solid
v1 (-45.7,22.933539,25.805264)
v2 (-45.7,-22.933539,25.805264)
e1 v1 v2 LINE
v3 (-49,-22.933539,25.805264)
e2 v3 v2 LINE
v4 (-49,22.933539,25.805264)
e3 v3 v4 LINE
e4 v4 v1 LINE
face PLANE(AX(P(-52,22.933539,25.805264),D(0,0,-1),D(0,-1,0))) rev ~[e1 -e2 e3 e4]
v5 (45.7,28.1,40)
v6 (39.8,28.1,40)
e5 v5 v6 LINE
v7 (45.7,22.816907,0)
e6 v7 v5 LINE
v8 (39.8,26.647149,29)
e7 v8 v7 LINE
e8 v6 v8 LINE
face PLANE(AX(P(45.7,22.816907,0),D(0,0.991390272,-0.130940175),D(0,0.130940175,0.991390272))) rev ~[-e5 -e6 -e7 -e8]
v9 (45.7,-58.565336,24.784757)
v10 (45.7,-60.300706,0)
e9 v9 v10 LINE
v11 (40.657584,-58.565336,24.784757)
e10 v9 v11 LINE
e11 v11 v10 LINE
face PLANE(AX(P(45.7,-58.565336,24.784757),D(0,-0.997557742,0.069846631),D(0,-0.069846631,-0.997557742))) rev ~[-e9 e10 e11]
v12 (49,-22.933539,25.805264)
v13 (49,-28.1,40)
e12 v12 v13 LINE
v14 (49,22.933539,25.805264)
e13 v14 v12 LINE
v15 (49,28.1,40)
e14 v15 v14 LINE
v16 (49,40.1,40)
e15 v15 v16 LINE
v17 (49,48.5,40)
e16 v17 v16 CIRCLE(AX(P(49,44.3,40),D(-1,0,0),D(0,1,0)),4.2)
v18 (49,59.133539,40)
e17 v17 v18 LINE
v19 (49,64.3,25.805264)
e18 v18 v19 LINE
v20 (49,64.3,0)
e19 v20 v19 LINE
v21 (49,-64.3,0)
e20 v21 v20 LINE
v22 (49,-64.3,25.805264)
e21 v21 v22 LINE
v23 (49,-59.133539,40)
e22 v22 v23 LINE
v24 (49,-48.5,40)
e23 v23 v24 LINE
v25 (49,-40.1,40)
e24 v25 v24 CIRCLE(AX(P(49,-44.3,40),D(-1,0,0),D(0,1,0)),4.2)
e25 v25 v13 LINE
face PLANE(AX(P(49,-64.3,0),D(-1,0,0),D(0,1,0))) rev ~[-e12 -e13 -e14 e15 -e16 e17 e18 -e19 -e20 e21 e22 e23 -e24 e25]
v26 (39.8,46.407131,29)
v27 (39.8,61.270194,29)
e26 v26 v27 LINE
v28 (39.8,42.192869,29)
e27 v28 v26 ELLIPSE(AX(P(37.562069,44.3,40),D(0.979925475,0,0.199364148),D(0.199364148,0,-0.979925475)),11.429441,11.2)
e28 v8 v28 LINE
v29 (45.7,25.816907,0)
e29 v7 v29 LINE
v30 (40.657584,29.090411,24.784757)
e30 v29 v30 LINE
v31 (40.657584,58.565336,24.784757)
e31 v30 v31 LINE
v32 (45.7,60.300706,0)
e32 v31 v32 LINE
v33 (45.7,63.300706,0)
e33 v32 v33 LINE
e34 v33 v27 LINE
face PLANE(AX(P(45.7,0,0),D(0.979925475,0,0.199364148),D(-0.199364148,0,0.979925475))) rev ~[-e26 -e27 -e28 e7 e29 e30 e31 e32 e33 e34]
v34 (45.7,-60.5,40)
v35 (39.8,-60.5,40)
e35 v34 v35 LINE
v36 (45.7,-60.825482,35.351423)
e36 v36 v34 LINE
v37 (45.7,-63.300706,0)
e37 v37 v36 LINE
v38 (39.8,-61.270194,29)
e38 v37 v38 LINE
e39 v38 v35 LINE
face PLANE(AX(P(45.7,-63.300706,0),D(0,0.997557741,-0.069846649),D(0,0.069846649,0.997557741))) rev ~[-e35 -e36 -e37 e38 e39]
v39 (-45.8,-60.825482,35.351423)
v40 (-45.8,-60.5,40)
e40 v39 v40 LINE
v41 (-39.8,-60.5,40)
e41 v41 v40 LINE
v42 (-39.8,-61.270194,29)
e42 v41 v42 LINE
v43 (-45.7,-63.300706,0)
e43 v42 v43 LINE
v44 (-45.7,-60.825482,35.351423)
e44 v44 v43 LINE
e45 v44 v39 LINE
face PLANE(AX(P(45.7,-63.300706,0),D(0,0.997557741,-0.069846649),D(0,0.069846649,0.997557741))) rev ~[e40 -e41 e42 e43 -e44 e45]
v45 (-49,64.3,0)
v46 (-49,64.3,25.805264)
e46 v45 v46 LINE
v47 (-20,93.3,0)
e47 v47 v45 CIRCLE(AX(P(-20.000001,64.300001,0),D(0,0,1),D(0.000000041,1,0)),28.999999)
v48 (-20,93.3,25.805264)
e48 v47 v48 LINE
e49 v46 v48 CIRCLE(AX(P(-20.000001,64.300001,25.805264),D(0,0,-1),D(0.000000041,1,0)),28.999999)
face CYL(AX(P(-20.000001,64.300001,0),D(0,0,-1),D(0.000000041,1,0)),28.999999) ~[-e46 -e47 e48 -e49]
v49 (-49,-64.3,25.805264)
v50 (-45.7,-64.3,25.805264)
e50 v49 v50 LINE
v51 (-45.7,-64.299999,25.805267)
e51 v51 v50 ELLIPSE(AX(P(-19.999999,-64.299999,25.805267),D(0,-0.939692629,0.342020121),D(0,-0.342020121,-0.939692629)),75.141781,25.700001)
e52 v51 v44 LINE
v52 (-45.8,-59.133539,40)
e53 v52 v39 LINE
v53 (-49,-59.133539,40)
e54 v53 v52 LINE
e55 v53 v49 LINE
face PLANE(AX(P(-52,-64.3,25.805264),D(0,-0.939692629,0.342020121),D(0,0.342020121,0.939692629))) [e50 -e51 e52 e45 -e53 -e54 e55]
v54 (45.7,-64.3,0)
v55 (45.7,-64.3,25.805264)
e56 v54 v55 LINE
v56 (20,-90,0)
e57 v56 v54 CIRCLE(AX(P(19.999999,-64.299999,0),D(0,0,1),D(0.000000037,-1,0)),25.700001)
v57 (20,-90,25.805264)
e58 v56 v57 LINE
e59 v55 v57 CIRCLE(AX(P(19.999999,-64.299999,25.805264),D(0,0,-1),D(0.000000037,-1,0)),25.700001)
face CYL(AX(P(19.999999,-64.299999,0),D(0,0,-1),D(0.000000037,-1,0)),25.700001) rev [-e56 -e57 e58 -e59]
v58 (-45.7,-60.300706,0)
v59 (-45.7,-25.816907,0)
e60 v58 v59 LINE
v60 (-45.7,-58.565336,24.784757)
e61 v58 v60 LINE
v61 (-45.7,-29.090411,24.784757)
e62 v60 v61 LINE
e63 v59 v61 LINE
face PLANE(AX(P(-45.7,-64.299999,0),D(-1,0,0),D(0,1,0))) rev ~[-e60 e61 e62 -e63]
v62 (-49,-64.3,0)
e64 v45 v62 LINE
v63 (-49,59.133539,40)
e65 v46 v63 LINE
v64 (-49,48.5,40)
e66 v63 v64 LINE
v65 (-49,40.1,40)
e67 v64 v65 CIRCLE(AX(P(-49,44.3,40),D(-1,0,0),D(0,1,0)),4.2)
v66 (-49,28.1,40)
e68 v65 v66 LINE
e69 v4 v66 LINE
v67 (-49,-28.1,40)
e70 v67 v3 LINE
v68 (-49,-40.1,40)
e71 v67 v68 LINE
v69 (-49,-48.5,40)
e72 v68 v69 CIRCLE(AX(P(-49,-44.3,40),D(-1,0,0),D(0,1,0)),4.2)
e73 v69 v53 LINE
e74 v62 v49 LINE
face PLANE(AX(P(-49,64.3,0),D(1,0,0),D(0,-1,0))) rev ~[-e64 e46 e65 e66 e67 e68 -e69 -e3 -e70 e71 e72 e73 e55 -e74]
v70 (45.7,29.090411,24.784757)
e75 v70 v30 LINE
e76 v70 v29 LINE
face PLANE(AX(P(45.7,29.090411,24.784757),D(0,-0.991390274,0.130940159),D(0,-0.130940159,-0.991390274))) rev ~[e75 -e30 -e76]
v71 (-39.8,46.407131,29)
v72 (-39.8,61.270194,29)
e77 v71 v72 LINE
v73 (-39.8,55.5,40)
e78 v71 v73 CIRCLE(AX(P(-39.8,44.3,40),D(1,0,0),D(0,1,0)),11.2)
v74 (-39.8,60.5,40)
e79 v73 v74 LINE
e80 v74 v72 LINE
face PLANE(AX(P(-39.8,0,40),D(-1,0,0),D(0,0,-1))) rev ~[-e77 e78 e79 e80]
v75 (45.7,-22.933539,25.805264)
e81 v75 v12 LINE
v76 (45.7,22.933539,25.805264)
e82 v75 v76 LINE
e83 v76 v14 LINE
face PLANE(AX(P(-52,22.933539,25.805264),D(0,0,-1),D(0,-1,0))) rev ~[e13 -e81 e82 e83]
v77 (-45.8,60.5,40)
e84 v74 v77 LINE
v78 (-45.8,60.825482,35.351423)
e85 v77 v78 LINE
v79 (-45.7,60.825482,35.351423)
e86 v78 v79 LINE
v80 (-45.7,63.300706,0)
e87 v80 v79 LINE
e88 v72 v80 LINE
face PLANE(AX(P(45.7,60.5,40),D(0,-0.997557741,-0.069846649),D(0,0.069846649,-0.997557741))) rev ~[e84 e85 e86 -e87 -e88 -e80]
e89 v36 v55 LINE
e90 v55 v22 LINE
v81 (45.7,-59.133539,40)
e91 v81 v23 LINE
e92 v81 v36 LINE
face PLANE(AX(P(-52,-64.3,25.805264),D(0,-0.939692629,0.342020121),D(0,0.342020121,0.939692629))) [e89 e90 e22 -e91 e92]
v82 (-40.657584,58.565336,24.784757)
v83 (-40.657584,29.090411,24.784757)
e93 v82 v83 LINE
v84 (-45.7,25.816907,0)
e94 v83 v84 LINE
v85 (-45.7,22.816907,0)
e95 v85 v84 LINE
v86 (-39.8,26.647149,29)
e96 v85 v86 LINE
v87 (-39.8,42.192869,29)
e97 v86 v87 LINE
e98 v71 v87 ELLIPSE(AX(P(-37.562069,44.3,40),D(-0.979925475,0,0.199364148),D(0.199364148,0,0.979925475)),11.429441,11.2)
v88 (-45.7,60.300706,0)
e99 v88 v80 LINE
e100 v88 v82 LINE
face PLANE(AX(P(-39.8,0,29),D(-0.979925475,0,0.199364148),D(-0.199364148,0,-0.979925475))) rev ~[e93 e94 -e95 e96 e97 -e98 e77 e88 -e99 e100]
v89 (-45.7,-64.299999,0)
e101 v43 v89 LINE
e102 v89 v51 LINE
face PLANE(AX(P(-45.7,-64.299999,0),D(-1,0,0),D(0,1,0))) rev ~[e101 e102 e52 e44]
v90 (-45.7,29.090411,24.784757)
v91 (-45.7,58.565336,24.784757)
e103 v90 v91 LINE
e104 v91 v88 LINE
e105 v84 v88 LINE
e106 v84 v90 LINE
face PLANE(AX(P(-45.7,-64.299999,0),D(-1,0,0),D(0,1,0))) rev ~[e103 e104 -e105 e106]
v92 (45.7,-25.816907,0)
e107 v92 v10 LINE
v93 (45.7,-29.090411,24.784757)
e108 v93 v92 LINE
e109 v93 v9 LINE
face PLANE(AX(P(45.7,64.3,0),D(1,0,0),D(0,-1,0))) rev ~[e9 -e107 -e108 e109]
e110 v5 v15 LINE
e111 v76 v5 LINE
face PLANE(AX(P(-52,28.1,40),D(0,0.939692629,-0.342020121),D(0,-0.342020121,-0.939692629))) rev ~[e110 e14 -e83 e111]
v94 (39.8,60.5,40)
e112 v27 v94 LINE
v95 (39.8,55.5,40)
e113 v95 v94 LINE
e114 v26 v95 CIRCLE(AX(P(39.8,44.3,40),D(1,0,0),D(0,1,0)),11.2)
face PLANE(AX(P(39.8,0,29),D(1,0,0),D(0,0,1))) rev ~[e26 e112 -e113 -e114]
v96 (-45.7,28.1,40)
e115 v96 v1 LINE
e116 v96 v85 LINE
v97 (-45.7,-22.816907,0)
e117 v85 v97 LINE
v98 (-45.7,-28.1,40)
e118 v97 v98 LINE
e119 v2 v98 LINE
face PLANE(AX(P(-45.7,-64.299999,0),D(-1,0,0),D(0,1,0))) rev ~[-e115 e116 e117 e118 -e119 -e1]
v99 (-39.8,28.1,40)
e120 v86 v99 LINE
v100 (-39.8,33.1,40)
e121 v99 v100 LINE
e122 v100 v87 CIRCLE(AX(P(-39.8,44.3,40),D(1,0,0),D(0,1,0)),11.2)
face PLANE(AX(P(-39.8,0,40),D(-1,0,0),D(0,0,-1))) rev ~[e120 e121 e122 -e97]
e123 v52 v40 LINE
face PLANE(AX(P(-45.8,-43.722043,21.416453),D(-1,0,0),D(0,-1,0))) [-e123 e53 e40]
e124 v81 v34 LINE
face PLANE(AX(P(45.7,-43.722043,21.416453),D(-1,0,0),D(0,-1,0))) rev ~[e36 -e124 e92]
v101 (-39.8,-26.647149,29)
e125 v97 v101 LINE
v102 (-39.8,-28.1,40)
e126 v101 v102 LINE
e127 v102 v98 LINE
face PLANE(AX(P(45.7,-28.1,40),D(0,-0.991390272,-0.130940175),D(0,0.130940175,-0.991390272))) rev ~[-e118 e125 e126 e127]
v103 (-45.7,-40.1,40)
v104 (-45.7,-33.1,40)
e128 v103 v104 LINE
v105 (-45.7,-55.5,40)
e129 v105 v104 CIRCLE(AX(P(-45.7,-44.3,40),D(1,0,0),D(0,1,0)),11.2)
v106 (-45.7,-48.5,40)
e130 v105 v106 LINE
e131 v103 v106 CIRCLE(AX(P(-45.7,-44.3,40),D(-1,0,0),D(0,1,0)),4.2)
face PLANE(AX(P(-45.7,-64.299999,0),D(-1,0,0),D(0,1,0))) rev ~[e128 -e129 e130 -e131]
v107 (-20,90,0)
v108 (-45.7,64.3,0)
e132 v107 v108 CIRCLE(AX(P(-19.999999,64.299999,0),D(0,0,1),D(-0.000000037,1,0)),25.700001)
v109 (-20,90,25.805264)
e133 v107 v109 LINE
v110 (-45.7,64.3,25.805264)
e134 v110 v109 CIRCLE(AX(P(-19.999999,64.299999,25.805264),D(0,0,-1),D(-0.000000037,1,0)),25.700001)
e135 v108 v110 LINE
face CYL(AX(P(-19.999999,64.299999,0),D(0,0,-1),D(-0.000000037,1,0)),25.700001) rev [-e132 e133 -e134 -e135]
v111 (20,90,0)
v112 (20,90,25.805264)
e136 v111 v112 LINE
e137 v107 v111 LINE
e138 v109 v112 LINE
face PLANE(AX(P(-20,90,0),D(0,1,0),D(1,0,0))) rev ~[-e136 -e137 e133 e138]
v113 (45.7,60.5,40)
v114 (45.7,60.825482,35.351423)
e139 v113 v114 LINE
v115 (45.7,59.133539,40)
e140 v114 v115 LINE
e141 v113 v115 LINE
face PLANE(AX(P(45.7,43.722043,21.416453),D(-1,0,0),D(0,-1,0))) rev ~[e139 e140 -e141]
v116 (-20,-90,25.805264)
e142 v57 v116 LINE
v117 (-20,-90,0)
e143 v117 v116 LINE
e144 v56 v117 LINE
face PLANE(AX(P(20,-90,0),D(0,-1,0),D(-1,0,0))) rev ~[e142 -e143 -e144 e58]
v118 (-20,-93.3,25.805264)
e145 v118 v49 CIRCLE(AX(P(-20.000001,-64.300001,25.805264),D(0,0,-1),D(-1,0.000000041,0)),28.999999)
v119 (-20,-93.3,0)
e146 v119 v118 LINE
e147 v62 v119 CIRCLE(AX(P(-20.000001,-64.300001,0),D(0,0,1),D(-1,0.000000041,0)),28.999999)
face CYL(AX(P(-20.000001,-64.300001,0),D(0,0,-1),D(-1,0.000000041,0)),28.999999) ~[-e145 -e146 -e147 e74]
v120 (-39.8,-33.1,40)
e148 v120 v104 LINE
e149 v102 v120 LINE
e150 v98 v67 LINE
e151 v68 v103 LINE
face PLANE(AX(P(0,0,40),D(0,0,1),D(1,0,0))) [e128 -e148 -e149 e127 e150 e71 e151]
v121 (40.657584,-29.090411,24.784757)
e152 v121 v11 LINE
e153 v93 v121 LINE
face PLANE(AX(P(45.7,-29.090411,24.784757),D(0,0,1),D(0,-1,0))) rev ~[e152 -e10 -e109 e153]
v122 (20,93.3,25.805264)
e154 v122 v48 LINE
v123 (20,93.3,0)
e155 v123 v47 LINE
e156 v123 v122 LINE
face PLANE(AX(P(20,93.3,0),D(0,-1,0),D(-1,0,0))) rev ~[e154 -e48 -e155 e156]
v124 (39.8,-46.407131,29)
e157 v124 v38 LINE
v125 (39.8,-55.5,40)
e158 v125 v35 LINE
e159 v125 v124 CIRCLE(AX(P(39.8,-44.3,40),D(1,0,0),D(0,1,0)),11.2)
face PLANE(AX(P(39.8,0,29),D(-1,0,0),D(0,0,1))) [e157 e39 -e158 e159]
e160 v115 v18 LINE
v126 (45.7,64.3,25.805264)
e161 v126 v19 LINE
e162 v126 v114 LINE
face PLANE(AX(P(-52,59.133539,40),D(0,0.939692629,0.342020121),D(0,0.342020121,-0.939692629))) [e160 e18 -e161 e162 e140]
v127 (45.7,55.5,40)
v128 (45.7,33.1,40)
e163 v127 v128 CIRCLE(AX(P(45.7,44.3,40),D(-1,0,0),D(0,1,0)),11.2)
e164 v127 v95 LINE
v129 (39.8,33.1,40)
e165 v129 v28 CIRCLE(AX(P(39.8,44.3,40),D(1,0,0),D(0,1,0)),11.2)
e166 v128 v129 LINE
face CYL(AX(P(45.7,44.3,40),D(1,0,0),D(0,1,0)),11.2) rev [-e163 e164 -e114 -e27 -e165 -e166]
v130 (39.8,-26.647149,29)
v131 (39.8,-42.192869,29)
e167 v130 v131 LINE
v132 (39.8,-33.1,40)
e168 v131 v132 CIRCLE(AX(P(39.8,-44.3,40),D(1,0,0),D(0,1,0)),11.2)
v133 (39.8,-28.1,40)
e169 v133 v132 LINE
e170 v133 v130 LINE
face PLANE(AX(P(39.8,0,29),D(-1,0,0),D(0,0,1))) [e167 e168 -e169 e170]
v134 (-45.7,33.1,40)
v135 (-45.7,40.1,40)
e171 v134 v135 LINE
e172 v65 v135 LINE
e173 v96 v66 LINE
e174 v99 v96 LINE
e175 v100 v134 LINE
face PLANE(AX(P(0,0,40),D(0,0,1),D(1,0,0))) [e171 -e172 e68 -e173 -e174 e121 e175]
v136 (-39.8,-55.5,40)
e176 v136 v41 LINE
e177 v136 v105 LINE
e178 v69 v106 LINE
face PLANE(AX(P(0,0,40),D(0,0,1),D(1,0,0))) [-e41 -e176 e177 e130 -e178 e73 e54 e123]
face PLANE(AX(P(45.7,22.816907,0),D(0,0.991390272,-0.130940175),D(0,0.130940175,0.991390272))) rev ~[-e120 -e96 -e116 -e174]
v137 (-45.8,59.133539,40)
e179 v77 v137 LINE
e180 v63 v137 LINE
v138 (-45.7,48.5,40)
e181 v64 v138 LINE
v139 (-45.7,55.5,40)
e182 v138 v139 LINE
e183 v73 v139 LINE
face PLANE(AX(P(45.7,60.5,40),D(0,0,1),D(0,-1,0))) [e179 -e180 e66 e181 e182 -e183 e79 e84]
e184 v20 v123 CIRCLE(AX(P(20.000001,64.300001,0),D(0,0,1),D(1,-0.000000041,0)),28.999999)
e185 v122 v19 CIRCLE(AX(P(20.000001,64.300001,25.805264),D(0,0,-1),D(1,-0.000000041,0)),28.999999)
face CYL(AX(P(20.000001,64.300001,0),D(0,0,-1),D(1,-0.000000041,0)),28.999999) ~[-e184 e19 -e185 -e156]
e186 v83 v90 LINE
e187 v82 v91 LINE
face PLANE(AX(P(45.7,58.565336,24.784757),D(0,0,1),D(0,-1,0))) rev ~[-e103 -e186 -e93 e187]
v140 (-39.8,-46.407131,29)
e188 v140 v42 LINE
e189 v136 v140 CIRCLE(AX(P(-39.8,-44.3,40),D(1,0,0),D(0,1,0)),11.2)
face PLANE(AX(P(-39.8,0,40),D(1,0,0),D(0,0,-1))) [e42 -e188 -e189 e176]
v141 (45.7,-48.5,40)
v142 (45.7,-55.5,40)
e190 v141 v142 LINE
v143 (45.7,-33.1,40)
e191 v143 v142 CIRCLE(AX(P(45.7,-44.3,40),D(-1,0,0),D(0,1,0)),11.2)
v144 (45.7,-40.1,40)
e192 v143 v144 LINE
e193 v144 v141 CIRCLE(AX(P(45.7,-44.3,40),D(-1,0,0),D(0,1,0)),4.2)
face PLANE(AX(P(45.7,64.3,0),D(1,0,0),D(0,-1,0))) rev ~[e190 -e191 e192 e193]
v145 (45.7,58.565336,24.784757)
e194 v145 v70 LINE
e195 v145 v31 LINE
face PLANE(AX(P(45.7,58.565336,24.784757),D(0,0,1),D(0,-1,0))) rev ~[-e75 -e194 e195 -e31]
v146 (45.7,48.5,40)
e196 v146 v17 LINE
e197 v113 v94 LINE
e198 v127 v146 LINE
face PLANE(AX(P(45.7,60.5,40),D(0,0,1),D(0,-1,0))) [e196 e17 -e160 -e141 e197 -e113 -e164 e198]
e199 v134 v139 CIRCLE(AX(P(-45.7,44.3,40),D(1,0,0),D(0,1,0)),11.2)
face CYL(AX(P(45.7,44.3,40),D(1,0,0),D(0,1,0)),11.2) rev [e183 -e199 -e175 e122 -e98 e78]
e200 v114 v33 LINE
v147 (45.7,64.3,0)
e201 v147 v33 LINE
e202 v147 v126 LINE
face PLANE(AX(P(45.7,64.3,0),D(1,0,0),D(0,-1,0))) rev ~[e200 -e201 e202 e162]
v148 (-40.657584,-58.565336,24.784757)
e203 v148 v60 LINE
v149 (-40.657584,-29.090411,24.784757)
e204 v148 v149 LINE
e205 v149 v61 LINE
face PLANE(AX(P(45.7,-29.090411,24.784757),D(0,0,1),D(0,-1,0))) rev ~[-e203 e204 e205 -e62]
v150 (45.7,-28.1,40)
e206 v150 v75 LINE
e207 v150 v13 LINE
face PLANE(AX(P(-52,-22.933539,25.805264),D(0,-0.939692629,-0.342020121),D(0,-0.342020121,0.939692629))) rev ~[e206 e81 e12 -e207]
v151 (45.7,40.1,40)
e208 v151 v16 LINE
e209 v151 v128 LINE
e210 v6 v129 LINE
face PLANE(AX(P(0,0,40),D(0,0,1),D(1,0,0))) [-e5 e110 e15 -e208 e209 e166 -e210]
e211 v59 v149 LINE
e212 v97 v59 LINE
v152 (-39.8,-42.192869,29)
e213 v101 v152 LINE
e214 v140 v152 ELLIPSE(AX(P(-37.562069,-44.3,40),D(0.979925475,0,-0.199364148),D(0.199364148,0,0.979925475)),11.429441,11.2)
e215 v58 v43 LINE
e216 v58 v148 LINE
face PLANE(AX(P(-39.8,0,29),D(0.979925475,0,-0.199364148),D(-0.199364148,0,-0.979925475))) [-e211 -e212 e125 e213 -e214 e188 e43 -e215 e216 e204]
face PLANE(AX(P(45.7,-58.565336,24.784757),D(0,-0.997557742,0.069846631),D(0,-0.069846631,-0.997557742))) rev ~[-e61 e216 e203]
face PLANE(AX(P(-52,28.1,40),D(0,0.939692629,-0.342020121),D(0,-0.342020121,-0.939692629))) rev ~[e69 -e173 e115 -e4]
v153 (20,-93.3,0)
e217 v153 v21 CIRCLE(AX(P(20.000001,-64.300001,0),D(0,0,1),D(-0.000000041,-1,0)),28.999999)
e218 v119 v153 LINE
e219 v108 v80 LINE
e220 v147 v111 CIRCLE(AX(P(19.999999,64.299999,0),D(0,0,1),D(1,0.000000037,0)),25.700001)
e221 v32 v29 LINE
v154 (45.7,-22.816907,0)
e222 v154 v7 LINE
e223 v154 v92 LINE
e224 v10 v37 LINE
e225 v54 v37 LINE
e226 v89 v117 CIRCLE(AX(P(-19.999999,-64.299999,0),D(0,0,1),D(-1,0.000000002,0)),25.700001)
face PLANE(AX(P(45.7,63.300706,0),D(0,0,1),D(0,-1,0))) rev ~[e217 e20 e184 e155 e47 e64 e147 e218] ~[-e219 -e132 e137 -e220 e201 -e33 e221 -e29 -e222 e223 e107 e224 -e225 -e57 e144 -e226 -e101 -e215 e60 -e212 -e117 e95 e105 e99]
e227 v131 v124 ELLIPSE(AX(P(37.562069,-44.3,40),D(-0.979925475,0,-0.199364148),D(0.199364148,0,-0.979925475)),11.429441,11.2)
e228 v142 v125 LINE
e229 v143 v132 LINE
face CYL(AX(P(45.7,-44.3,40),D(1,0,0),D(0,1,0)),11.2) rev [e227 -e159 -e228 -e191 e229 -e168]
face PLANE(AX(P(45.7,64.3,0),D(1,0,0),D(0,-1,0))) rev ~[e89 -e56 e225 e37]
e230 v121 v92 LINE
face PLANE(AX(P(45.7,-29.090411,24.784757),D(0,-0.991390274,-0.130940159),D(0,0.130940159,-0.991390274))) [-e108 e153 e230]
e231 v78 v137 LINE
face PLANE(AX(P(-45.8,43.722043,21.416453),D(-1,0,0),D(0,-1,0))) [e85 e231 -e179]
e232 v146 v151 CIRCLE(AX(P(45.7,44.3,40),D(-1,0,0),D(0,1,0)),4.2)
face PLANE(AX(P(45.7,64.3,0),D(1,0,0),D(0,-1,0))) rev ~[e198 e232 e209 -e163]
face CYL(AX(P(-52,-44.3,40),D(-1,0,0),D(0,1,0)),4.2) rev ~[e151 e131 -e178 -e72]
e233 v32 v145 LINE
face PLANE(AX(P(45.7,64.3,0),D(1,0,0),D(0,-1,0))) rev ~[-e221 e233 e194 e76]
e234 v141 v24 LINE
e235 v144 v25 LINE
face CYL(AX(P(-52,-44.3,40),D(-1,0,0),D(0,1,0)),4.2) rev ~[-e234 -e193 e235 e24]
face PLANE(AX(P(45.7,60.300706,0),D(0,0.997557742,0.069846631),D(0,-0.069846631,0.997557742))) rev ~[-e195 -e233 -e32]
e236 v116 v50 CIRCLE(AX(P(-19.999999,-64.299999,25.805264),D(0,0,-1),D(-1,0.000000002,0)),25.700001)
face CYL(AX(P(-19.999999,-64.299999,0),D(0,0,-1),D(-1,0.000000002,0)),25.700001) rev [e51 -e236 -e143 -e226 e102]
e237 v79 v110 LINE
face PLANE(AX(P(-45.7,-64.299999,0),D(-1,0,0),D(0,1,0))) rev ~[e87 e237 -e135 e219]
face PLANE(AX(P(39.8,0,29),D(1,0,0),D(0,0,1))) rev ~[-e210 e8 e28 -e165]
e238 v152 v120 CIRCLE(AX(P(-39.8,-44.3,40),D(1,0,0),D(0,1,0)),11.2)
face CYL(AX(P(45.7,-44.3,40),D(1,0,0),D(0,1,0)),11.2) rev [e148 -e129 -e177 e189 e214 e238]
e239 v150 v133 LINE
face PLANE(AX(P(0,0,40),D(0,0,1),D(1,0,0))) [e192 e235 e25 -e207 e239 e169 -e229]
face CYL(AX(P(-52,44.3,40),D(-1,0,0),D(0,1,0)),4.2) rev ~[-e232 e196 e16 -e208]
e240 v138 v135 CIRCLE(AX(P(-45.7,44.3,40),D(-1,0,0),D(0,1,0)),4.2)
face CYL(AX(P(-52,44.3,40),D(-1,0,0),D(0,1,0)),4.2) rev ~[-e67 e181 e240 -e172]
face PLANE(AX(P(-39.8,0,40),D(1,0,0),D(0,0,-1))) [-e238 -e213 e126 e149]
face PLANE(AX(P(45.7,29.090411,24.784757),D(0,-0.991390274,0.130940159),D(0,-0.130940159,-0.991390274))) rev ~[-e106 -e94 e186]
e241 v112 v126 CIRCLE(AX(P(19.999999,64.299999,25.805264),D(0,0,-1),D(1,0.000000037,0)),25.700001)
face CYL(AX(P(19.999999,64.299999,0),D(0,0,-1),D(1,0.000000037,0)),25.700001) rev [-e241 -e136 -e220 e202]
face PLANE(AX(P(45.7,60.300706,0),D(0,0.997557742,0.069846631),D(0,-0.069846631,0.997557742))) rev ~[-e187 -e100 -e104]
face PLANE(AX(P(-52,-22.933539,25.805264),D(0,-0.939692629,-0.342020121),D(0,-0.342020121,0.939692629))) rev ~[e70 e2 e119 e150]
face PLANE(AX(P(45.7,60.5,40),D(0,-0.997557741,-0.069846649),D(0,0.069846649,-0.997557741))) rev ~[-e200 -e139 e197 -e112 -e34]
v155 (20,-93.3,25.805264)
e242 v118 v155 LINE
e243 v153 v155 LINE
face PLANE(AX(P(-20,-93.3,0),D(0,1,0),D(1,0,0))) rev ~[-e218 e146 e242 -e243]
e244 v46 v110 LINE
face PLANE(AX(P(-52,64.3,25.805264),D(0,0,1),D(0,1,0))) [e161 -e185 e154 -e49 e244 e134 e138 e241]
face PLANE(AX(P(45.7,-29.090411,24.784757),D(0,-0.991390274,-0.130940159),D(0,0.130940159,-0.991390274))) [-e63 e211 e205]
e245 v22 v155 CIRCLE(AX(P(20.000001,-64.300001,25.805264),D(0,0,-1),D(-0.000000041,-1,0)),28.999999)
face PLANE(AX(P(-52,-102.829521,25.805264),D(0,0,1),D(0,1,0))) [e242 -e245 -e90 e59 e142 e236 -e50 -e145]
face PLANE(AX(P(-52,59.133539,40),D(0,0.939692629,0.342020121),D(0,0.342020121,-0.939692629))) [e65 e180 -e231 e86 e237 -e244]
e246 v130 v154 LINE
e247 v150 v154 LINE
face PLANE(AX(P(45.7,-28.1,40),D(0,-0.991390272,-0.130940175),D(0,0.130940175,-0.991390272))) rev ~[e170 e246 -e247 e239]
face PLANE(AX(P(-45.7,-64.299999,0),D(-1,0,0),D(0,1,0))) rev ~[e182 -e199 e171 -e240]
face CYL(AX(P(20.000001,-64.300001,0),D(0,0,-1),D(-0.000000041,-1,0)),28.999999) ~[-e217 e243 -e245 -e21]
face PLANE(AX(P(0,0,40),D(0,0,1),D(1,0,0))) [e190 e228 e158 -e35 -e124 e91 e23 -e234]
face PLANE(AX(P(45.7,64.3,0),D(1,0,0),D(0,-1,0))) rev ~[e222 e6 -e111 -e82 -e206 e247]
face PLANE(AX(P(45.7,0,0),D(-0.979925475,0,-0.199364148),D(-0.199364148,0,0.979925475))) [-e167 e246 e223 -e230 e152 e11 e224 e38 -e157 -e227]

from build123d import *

# Parameters (mm, degrees)
PAD001_DEPTH         = 40
POCKET_DEPTH         = 101.001
PAD002_DEPTH         = 91.5
POCKET001_DEPTH      = 64
POCKET001_DEPTH_BACK = 64


with BuildPart() as part:
    # Sketch003 (on Sketch) → Pad001 (new body)
    with BuildSketch(Plane.XY):
        with BuildLine():
            Line((-20, -93.3), (20, -93.3))
            ThreePointArc((20, -93.3), (40.506097, -84.806097), (49, -64.3))
            Line((49, -64.3), (49, 64.3))
            ThreePointArc((49, 64.3), (40.506097, 84.806097), (20, 93.3))
            Line((20, 93.3), (-20, 93.3))
            ThreePointArc((-20, 93.3), (-40.506097, 84.806097), (-49, 64.3))
            Line((-49, 64.3), (-49, -64.3))
            ThreePointArc((-49, -64.3), (-40.506097, -84.806097), (-20, -93.3))
        make_face()
        with BuildLine():
            Line((-20, 90), (20, 90))
            ThreePointArc((45.7, 64.3), (38.172644, 82.472644), (20, 90))
            Line((45.7, 64.3), (45.7, -64.3))
            ThreePointArc((20, -90), (38.172644, -82.472644), (45.7, -64.3))
            Line((20, -90), (-20, -90))
            ThreePointArc((-45.7, -64.299999), (-38.172644, -82.472644), (-20, -90))
            Line((-45.7, -64.299999), (-45.7, 64.3))
            ThreePointArc((-20, 90), (-38.172644, 82.472644), (-45.7, 64.3))
        make_face(mode=Mode.SUBTRACT)
    extrude(amount=PAD001_DEPTH)

    # Sketch004 (on Face7 of Pad001) → Pocket (cut, through all)
    with BuildSketch(Plane(origin=(-52, 0, 0), x_dir=(0, -1, 0), z_dir=(-1, 0, 0))):
        with BuildLine():
            Line((-48.5, 40), (-59.133539, 40))
            Line((-59.133539, 40), (-64.3, 25.805264))
            Line((-64.3, 25.805264), (-99.376816, 25.805264))
            Line((-99.376816, 25.805264), (-99.376816, 55.805264))
            Line((-99.376816, 55.805264), (102.829521, 55.805264))
            Line((102.829521, 55.805264), (102.829521, 25.805264))
            Line((102.829521, 25.805264), (64.3, 25.805264))
            Line((64.3, 25.805264), (59.133539, 40))
            Line((59.133539, 40), (48.5, 40))
            ThreePointArc((40.1, 40), (44.3, 35.8), (48.5, 40))
            Line((28.1, 40), (40.1, 40))
            Line((22.933539, 25.805264), (28.1, 40))
            Line((-22.933539, 25.805264), (22.933539, 25.805264))
            Line((-28.1, 40), (-22.933539, 25.805264))
            Line((-40.1, 40), (-28.1, 40))
            ThreePointArc((-48.5, 40), (-44.3, 35.8), (-40.1, 40))
        make_face()
    extrude(amount=-POCKET_DEPTH, mode=Mode.SUBTRACT)

    # Sketch005 (on Face15 of Pocket) → Pad002 (join)
    with BuildSketch(Plane(origin=(45.7, 0, 0), x_dir=(0, -1, 0), z_dir=(-1, 0, 0))):
        with BuildLine():
            Line((-60.5, 40), (-63.300706, 0))
            Line((-63.300706, 0), (-60.300706, 0))
            Line((-60.300706, 0), (-58.565336, 24.784757))
            Line((-58.565336, 24.784757), (-29.090411, 24.784757))
            Line((-29.090411, 24.784757), (-25.816907, 0))
            Line((-25.816907, 0), (-22.816907, 0))
            Line((-22.816907, 0), (-28.1, 40))
            Line((-33.1, 40), (-28.1, 40))
            ThreePointArc((-55.5, 40), (-44.3, 28.8), (-33.1, 40))
            Line((-60.5, 40), (-55.5, 40))
        make_face()
        with BuildLine():
            Line((28.1, 40), (22.816907, 0))
            Line((25.816907, 0), (22.816907, 0))
            Line((29.090411, 24.784757), (25.816907, 0))
            Line((29.090411, 24.784757), (58.565336, 24.784757))
            Line((58.565336, 24.784757), (60.300706, 0))
            Line((60.300706, 0), (63.300706, 0))
            Line((63.300706, 0), (60.5, 40))
            Line((55.5, 40), (60.5, 40))
            ThreePointArc((33.1, 40), (44.3, 28.8), (55.5, 40))
            Line((28.1, 40), (33.1, 40))
        make_face()
    extrude(amount=PAD002_DEPTH)

    # Sketch006 → Pocket001 (cut, two sides)
    with BuildSketch(Plane.XZ) as pocket001_sk:
        Polygon((-39.8, 40), (-39.8, 29), (-45.7, 0), (45.7, 0), (39.8, 29), (39.8, 40), align=None)
    extrude(amount=-POCKET001_DEPTH, mode=Mode.SUBTRACT)
    extrude(pocket001_sk.sketch, amount=POCKET001_DEPTH_BACK, mode=Mode.SUBTRACT)


solid = part.part
